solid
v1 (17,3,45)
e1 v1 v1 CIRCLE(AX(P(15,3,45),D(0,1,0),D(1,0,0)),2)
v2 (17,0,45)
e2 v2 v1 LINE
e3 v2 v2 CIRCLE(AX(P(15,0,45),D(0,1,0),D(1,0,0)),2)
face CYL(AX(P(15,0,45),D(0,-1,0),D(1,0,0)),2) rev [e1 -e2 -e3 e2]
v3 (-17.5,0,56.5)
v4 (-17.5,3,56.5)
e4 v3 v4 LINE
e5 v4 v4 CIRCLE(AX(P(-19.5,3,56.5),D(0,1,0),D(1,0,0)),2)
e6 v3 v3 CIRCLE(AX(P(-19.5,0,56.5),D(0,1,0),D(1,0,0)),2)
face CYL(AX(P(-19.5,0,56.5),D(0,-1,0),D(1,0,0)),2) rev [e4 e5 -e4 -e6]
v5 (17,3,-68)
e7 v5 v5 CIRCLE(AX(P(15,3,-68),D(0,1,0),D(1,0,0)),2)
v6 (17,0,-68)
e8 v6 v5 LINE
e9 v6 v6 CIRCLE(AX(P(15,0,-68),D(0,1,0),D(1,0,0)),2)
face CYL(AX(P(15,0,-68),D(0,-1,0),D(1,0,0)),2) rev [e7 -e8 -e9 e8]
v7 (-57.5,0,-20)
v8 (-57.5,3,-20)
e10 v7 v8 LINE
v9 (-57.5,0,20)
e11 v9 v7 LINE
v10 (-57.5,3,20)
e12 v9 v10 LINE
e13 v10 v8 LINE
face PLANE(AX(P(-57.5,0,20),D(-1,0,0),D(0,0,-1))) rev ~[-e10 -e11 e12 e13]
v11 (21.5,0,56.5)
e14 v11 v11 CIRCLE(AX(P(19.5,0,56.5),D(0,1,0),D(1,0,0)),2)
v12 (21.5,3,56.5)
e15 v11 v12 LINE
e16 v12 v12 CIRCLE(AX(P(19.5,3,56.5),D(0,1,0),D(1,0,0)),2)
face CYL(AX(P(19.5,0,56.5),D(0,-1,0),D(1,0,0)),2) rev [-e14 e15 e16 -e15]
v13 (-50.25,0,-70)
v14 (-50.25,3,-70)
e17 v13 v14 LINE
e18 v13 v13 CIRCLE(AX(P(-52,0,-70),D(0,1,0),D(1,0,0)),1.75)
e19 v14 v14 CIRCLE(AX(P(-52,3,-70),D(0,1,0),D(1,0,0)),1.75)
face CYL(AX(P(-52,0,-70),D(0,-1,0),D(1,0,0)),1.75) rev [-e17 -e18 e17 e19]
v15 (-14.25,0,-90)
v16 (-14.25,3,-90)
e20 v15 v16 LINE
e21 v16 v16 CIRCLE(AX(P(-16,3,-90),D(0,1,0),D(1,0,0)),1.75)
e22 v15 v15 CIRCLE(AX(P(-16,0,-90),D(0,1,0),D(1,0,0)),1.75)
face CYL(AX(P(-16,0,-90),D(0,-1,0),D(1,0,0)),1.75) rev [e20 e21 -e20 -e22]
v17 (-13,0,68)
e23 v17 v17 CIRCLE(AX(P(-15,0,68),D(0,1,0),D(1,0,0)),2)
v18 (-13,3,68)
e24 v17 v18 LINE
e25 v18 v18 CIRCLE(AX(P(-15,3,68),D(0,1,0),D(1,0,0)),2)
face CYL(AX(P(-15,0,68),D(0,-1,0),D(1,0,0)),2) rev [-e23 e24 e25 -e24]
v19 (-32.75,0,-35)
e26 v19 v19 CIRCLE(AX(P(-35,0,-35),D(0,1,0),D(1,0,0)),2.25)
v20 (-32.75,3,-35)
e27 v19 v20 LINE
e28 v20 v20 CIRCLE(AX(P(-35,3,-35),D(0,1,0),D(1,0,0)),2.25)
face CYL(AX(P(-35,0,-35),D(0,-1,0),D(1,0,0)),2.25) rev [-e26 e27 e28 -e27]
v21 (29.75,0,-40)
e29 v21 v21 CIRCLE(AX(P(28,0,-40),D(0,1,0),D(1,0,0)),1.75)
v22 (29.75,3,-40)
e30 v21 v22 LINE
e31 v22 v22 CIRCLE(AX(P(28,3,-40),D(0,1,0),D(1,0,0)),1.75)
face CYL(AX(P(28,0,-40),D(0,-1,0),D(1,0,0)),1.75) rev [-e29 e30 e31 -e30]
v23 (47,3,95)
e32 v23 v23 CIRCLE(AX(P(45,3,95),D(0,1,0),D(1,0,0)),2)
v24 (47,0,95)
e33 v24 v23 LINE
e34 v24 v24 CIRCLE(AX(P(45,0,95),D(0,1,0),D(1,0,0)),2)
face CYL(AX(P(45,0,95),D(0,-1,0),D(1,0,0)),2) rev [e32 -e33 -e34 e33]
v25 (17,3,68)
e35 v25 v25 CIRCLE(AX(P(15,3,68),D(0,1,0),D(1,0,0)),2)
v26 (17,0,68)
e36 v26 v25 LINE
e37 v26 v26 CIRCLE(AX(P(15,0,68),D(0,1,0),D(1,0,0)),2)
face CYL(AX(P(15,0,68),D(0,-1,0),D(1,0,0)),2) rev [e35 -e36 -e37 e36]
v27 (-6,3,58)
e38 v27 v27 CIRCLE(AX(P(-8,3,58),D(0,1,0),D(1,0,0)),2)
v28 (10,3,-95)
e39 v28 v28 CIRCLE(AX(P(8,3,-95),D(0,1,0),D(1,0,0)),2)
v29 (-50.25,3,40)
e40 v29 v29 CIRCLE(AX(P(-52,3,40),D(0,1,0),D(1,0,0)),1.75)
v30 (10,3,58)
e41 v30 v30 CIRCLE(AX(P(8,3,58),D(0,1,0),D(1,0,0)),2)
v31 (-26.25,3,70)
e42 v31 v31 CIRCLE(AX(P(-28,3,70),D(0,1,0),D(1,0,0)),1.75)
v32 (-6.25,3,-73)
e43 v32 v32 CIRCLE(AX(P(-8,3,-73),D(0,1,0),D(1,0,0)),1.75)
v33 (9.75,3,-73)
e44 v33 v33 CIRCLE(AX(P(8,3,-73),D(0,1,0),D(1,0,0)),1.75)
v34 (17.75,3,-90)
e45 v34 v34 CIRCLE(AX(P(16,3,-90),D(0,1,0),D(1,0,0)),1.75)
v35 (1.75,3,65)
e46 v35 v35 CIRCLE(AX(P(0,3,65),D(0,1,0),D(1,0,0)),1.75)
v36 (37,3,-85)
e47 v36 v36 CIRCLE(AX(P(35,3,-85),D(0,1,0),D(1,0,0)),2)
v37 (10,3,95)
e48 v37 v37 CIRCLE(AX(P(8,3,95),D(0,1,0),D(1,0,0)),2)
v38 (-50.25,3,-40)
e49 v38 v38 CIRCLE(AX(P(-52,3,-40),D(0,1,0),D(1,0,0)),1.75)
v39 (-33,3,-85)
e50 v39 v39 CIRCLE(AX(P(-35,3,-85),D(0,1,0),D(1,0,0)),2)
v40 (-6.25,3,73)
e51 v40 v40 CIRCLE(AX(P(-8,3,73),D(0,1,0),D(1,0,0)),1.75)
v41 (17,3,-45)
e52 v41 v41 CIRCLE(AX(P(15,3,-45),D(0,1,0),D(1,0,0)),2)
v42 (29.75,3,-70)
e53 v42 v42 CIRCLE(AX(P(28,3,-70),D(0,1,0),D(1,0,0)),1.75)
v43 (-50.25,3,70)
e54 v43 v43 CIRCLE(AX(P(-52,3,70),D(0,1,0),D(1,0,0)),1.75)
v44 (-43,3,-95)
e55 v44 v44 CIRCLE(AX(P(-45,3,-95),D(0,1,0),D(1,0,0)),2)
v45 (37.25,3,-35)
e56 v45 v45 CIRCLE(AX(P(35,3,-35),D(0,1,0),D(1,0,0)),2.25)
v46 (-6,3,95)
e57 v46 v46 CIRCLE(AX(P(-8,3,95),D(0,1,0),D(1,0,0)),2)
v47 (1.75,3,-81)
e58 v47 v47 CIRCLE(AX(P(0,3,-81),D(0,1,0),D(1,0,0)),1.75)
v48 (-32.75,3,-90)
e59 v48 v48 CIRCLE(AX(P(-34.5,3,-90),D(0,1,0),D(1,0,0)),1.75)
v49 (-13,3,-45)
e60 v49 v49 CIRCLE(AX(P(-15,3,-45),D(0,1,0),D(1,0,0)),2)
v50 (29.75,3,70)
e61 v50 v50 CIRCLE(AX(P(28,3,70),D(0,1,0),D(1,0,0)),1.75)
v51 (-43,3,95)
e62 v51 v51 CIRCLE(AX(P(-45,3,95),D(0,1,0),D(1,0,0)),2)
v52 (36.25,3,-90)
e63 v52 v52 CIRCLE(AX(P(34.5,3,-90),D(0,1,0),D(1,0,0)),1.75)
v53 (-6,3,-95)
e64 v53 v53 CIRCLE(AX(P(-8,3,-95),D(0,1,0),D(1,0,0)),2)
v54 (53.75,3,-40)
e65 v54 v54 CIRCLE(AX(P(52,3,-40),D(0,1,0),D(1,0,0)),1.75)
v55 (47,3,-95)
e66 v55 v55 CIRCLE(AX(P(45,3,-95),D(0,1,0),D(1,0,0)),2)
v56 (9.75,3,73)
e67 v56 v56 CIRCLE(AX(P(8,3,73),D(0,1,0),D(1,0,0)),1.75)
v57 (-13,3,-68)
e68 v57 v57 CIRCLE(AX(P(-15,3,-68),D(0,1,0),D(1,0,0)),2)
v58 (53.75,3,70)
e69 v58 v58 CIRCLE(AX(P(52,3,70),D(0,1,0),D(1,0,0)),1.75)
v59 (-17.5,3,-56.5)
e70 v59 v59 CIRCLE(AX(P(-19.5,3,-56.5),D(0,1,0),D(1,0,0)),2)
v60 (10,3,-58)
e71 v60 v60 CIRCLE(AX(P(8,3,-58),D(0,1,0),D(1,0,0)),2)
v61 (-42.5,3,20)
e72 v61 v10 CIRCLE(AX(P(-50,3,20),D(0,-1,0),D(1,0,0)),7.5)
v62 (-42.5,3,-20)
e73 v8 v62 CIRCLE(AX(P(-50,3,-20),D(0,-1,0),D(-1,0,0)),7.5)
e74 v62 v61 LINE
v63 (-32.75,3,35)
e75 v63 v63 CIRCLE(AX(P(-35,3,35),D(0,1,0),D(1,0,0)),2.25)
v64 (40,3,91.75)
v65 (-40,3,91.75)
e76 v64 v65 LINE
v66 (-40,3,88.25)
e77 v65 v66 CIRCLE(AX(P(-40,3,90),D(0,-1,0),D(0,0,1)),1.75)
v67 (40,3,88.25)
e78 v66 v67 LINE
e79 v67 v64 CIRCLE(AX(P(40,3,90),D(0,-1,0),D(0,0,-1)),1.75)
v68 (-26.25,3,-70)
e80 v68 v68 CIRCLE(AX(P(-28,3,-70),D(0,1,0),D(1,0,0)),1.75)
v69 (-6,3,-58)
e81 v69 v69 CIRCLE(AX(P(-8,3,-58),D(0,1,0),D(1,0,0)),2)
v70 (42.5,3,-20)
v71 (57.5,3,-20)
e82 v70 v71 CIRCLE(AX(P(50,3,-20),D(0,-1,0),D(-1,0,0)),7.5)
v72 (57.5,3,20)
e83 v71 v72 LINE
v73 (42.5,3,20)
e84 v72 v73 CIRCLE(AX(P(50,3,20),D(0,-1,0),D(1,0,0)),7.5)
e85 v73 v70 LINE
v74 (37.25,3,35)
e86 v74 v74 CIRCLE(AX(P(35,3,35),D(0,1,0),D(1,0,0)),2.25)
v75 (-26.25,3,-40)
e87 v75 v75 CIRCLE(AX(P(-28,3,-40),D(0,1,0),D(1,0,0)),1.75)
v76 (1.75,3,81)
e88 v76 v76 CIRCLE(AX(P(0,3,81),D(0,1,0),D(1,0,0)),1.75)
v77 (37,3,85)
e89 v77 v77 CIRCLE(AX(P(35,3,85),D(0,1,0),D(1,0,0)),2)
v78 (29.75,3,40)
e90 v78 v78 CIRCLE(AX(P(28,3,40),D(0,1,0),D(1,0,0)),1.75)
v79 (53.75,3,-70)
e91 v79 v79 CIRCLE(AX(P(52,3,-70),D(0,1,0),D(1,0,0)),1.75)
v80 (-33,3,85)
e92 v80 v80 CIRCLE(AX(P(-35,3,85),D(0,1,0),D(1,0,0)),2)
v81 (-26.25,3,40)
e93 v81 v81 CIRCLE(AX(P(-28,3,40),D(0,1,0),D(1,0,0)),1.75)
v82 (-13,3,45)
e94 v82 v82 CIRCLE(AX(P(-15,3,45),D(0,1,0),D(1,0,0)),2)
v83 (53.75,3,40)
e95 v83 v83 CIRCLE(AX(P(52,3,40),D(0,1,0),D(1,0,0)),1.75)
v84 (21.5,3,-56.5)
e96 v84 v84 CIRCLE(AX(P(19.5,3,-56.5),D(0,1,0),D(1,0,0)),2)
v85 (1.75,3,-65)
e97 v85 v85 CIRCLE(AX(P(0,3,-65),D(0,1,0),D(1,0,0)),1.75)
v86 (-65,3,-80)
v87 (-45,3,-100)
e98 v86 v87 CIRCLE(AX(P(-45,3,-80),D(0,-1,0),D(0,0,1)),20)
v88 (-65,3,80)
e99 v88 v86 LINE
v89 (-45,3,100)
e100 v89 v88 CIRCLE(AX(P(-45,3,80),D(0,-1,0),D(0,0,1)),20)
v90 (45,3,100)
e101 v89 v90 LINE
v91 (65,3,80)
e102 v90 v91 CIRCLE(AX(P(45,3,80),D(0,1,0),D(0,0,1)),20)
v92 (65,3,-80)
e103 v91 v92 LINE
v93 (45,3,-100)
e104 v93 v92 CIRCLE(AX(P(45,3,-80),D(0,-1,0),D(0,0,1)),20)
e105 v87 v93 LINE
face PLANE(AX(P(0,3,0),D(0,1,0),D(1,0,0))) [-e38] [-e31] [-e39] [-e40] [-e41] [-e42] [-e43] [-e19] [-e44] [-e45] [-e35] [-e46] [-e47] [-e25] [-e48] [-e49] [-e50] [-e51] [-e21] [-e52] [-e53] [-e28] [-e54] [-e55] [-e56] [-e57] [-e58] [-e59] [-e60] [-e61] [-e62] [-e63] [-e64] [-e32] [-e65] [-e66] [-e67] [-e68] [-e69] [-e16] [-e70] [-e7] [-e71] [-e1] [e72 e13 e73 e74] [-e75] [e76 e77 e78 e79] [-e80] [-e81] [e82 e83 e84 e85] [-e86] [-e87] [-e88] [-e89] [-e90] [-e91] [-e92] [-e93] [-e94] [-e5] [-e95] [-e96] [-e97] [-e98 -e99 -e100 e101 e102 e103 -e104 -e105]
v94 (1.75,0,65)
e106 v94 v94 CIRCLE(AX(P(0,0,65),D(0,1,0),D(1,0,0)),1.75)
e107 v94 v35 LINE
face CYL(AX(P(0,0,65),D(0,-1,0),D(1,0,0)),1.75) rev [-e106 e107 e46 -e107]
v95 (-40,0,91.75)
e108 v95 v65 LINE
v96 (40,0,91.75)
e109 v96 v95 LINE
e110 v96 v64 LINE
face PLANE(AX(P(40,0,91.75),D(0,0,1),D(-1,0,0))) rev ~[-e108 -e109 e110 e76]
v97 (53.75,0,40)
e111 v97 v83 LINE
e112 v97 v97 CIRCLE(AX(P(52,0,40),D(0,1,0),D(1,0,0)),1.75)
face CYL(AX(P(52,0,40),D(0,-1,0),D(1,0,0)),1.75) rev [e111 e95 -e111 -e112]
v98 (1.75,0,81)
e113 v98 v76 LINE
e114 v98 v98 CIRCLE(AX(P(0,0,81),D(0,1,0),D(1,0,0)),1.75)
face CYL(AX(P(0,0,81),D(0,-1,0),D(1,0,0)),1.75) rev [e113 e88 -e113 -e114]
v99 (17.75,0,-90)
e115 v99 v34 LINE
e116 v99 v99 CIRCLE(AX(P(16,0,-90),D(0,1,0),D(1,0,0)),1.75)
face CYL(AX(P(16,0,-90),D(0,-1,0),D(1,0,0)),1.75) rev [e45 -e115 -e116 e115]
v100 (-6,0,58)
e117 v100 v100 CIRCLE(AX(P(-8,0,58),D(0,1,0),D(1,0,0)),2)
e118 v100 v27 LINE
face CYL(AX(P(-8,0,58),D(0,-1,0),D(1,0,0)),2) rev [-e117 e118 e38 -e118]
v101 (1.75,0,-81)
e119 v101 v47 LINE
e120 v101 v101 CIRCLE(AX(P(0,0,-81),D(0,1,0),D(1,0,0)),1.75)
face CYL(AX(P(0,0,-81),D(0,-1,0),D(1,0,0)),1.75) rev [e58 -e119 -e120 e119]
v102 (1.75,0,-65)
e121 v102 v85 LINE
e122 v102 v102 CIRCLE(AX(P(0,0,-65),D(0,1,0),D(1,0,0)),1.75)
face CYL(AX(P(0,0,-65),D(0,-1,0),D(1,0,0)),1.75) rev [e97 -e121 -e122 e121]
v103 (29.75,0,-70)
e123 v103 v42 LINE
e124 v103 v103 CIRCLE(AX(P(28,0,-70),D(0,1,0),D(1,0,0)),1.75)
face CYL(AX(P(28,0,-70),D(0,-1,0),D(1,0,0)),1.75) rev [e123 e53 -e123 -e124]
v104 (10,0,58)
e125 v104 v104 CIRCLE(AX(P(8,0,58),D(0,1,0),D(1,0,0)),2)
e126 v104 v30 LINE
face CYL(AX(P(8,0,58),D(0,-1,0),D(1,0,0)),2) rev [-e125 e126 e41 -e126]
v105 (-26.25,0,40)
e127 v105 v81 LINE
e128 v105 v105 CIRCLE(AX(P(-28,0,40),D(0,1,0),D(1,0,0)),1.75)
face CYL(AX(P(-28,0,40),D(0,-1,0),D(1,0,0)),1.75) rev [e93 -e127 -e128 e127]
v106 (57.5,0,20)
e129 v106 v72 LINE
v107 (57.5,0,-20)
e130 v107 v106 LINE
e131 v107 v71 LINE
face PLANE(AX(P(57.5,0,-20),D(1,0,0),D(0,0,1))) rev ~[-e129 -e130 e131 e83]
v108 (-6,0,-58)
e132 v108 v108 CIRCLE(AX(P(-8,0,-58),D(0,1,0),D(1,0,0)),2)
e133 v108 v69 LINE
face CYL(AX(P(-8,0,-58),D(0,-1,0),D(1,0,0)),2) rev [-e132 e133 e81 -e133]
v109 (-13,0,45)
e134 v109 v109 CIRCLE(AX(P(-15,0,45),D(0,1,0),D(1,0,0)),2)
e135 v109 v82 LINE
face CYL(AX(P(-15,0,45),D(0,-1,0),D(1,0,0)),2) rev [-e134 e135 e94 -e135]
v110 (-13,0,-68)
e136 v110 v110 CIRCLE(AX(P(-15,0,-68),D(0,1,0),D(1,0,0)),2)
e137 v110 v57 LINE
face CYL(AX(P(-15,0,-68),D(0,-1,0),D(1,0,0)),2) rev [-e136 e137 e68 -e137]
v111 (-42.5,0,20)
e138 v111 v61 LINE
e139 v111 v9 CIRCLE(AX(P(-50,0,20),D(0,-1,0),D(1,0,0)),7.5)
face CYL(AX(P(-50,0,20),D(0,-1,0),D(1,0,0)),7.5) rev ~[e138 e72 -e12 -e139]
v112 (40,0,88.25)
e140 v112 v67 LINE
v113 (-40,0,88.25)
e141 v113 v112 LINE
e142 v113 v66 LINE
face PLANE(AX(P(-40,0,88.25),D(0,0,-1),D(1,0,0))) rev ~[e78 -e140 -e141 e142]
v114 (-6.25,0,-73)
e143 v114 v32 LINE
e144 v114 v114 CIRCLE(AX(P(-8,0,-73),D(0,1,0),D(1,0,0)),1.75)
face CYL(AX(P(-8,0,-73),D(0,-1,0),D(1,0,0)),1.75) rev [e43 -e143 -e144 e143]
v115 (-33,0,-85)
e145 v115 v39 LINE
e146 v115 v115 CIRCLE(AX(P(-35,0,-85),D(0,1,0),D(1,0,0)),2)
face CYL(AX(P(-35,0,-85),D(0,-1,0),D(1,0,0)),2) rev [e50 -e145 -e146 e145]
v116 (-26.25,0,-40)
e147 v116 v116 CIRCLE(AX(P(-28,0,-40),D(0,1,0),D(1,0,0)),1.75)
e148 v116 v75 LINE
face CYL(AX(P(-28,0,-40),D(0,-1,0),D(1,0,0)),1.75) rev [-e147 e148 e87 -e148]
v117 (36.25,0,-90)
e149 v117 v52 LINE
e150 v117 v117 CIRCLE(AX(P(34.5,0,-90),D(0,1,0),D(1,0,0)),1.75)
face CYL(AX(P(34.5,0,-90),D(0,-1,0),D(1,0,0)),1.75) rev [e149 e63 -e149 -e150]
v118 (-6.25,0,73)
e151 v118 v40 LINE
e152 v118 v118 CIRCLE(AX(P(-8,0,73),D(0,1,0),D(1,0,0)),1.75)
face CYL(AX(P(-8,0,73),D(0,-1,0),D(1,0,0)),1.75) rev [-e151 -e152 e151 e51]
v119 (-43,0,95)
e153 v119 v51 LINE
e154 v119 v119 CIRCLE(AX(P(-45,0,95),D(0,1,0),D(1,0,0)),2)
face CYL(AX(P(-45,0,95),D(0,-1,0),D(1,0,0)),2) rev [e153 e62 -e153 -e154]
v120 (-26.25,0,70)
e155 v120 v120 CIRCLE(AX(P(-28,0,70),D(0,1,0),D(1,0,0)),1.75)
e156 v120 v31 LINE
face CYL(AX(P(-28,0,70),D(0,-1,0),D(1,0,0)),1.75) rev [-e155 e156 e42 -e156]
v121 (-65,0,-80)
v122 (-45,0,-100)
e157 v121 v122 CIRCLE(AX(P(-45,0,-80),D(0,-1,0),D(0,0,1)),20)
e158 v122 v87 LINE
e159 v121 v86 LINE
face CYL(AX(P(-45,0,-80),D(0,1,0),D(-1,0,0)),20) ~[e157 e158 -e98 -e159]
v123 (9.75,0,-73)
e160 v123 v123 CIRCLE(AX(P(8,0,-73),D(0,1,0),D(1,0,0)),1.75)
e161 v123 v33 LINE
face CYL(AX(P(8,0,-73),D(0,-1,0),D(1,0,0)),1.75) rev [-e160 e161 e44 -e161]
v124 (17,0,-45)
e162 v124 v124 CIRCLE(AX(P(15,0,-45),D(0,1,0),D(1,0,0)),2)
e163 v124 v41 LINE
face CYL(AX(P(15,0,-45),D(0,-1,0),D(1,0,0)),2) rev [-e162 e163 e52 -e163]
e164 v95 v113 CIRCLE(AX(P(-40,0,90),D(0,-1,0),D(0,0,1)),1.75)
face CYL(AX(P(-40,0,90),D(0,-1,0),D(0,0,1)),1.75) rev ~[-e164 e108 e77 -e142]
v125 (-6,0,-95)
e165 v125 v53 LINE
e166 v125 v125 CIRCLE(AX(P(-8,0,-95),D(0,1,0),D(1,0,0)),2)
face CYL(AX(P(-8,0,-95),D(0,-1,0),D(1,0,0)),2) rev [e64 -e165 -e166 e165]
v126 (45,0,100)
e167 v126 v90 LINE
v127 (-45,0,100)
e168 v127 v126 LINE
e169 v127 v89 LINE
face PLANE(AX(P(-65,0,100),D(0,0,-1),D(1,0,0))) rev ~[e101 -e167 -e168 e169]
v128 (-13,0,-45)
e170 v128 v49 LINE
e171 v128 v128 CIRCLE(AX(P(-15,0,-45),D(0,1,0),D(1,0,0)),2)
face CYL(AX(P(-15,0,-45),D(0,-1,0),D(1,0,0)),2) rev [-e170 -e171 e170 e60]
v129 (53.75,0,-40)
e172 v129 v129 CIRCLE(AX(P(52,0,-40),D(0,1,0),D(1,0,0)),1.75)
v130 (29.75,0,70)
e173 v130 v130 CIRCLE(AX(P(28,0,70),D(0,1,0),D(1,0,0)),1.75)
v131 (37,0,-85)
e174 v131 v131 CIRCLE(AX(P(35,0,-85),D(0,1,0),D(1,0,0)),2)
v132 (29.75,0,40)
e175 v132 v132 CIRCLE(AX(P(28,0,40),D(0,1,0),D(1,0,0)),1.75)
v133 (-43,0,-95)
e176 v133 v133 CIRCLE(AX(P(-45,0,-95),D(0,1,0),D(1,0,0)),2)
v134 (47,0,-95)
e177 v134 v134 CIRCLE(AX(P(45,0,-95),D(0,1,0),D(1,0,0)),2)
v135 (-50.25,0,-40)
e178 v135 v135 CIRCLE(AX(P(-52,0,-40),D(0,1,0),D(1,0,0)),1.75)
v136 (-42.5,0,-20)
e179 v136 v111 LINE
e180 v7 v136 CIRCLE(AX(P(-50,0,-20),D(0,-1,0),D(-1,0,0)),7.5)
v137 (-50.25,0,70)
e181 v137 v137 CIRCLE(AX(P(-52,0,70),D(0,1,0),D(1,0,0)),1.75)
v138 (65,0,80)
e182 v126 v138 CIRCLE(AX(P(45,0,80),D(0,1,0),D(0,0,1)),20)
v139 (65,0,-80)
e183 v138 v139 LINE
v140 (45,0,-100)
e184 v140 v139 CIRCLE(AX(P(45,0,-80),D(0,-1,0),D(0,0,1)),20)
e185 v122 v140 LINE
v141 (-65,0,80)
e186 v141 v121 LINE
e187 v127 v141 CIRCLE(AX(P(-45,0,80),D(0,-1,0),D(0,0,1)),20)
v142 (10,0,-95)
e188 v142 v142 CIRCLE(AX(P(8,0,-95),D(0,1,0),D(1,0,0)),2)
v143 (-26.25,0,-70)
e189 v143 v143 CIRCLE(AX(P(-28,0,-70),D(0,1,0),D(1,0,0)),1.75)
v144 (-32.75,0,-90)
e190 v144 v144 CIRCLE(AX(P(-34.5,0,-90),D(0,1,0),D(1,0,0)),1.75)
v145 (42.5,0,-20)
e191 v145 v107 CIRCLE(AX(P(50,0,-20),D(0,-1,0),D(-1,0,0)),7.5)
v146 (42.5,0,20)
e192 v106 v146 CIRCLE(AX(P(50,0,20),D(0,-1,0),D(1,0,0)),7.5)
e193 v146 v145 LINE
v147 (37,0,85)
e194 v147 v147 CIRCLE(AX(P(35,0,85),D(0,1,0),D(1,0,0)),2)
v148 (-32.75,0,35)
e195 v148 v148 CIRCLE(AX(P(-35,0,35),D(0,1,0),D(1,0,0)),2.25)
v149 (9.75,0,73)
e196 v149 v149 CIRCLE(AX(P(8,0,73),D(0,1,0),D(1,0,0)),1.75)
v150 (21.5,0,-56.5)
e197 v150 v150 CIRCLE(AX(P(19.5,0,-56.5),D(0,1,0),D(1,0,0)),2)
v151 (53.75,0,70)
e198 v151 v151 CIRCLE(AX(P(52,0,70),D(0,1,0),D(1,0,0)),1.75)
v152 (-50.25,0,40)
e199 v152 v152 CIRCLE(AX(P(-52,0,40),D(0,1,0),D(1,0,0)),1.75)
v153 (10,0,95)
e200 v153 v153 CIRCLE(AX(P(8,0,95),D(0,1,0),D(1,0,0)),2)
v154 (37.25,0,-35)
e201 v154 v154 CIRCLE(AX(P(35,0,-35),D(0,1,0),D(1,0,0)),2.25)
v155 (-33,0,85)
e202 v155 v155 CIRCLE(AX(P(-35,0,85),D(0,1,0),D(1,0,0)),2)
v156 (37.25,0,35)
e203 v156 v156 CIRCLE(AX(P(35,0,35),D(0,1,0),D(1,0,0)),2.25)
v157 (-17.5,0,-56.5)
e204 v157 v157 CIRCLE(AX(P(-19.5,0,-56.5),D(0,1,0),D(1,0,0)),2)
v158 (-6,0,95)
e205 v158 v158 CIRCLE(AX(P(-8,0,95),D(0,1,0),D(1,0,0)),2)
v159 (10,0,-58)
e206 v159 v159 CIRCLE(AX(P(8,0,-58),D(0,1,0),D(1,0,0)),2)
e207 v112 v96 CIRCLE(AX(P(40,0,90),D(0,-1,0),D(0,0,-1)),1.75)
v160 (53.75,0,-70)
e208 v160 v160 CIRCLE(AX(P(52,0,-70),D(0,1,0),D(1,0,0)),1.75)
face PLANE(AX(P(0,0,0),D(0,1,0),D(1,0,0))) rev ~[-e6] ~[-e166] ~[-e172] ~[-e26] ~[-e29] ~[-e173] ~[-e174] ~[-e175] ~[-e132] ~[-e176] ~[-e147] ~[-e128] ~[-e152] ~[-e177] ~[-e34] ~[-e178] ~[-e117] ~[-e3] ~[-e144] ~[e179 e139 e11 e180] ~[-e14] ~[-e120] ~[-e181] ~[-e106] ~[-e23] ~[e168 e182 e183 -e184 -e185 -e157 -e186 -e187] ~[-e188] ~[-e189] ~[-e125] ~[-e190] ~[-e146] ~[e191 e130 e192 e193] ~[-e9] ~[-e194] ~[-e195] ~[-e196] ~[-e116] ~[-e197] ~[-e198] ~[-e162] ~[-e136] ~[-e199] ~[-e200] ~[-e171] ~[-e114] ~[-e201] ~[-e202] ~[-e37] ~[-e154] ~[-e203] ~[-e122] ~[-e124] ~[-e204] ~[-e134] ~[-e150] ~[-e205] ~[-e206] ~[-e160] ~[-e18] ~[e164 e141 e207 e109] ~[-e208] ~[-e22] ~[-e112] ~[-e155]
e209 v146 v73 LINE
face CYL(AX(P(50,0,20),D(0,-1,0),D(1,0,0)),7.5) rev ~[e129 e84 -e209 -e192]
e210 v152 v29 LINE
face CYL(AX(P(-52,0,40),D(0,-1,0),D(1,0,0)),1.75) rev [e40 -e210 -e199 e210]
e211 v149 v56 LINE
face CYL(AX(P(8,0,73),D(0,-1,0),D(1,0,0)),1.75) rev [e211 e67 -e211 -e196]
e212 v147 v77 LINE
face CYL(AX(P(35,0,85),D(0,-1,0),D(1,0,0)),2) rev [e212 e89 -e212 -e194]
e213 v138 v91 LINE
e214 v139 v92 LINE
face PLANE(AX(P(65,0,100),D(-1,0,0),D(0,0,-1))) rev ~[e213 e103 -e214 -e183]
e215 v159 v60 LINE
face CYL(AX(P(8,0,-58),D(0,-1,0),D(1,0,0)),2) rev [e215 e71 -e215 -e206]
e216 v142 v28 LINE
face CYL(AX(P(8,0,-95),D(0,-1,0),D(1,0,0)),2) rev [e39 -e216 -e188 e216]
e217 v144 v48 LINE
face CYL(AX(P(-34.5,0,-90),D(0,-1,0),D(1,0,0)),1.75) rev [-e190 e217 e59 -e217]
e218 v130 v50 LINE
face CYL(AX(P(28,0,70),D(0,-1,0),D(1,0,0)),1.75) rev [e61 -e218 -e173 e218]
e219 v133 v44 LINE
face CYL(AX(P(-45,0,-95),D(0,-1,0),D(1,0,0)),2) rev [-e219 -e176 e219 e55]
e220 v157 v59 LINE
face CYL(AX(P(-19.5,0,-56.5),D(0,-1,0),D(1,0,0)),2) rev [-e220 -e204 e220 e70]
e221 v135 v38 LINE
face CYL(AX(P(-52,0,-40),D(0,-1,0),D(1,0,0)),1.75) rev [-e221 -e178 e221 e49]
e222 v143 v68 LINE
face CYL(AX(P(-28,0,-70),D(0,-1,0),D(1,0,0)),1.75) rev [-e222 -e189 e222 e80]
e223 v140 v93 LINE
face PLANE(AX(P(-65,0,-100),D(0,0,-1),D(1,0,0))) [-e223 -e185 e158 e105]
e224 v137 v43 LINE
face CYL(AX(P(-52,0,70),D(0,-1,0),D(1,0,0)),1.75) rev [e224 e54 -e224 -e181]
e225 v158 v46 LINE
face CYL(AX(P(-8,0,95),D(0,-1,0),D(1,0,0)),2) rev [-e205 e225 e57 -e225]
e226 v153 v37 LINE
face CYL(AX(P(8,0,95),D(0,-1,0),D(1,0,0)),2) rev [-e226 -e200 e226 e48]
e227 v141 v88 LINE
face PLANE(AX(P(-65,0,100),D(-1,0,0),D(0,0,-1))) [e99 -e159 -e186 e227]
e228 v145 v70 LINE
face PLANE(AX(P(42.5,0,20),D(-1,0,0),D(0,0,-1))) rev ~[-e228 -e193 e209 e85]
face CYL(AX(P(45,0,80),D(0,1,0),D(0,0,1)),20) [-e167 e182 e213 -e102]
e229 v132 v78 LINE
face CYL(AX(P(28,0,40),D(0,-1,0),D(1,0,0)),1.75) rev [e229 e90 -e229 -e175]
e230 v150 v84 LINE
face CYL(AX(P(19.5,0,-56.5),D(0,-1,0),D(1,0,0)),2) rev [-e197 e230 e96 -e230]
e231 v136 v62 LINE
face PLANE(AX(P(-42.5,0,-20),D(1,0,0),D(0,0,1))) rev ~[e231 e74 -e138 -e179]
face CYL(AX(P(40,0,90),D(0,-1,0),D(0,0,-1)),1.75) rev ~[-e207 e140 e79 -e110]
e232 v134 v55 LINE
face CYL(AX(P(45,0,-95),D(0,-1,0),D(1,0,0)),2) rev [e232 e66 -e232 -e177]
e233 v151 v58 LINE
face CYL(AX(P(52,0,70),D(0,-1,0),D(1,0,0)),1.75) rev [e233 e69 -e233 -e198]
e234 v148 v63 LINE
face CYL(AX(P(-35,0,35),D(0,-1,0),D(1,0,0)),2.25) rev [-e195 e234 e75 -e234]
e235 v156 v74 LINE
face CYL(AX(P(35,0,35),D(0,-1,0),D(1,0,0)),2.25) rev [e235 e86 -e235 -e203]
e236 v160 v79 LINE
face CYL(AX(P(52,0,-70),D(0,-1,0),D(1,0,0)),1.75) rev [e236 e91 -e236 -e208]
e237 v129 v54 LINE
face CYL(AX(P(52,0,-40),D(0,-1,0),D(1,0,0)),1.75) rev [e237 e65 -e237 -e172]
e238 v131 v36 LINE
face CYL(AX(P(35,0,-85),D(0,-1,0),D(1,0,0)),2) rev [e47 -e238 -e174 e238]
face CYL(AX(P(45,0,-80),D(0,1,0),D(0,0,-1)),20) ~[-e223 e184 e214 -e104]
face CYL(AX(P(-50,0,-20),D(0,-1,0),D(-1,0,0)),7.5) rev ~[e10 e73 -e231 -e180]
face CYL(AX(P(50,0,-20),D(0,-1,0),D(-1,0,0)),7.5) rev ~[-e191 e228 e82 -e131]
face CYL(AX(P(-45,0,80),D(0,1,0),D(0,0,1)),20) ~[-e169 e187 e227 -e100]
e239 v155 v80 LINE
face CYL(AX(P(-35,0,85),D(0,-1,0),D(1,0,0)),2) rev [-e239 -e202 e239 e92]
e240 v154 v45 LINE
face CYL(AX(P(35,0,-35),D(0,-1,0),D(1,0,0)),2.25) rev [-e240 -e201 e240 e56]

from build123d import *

# Parameters (mm, degrees)
SKETCH_1_W      = 130
SKETCH_1_H      = 200
SKETCH_1_R      = 1.75
SKETCH_1_R_2    = 2.25
SKETCH_1_R_3    = 2
EXTRUDE_2_DEPTH = 3
FILLET_1_R      = 20
FILLET_2_R      = 20
FILLET_3_R      = 20
FILLET_4_R      = 20


with BuildPart() as part:
    # 草图1 → 凸台-拉伸2 (new body)
    with BuildSketch(Plane(origin=(0, 0, 0), x_dir=(1, 0, 0), z_dir=(0, 1, 0))):
        Rectangle(SKETCH_1_W, SKETCH_1_H)
        with Locations((52, -70)):
            Circle(SKETCH_1_R, mode=Mode.SUBTRACT)
        with Locations((52, -40)):
            Circle(SKETCH_1_R, mode=Mode.SUBTRACT)
        with Locations((28, -40)):
            Circle(SKETCH_1_R, mode=Mode.SUBTRACT)
        with Locations((28, -70)):
            Circle(SKETCH_1_R, mode=Mode.SUBTRACT)
        with Locations((52, 40)):
            Circle(SKETCH_1_R, mode=Mode.SUBTRACT)
        with Locations((52, 70)):
            Circle(SKETCH_1_R, mode=Mode.SUBTRACT)
        with Locations((28, 70)):
            Circle(SKETCH_1_R, mode=Mode.SUBTRACT)
        with Locations((28, 40)):
            Circle(SKETCH_1_R, mode=Mode.SUBTRACT)
        with Locations((-28, 40)):
            Circle(SKETCH_1_R, mode=Mode.SUBTRACT)
        with Locations((-28, 70)):
            Circle(SKETCH_1_R, mode=Mode.SUBTRACT)
        with Locations((-52, 70)):
            Circle(SKETCH_1_R, mode=Mode.SUBTRACT)
        with Locations((-52, 40)):
            Circle(SKETCH_1_R, mode=Mode.SUBTRACT)
        with Locations((-28, -70)):
            Circle(SKETCH_1_R, mode=Mode.SUBTRACT)
        with Locations((-28, -40)):
            Circle(SKETCH_1_R, mode=Mode.SUBTRACT)
        with Locations((-52, -40)):
            Circle(SKETCH_1_R, mode=Mode.SUBTRACT)
        with Locations((-52, -70)):
            Circle(SKETCH_1_R, mode=Mode.SUBTRACT)
        with Locations((35, -35)):
            Circle(SKETCH_1_R_2, mode=Mode.SUBTRACT)
        with Locations((-35, -35)):
            Circle(SKETCH_1_R_2, mode=Mode.SUBTRACT)
        with Locations((-35, 35)):
            Circle(SKETCH_1_R_2, mode=Mode.SUBTRACT)
        with Locations((35, 35)):
            Circle(SKETCH_1_R_2, mode=Mode.SUBTRACT)
        with Locations((16, 90)):
            Circle(SKETCH_1_R, mode=Mode.SUBTRACT)
        with Locations((-16, 90)):
            Circle(SKETCH_1_R, mode=Mode.SUBTRACT)
        with Locations((-34.5, 90)):
            Circle(SKETCH_1_R, mode=Mode.SUBTRACT)
        with Locations((34.5, 90)):
            Circle(SKETCH_1_R, mode=Mode.SUBTRACT)
        with Locations((-8, 73)):
            Circle(SKETCH_1_R, mode=Mode.SUBTRACT)
        with Locations((0, 65)):
            Circle(SKETCH_1_R, mode=Mode.SUBTRACT)
        with Locations((0, 81)):
            Circle(SKETCH_1_R, mode=Mode.SUBTRACT)
        with Locations((8, 73)):
            Circle(SKETCH_1_R, mode=Mode.SUBTRACT)
        with Locations((-8, -73)):
            Circle(SKETCH_1_R, mode=Mode.SUBTRACT)
        with Locations((0, -81)):
            Circle(SKETCH_1_R, mode=Mode.SUBTRACT)
        with Locations((0, -65)):
            Circle(SKETCH_1_R, mode=Mode.SUBTRACT)
        with Locations((8, -73)):
            Circle(SKETCH_1_R, mode=Mode.SUBTRACT)
        with Locations((15, 45)):
            Circle(SKETCH_1_R_3, mode=Mode.SUBTRACT)
        with Locations((-15, 45)):
            Circle(SKETCH_1_R_3, mode=Mode.SUBTRACT)
        with Locations((-15, 68)):
            Circle(SKETCH_1_R_3, mode=Mode.SUBTRACT)
        with Locations((15, 68)):
            Circle(SKETCH_1_R_3, mode=Mode.SUBTRACT)
        with Locations((15, -68)):
            Circle(SKETCH_1_R_3, mode=Mode.SUBTRACT)
        with Locations((-15, -68)):
            Circle(SKETCH_1_R_3, mode=Mode.SUBTRACT)
        with Locations((-15, -45)):
            Circle(SKETCH_1_R_3, mode=Mode.SUBTRACT)
        with Locations((15, -45)):
            Circle(SKETCH_1_R_3, mode=Mode.SUBTRACT)
        with Locations((35, 85)):
            Circle(SKETCH_1_R_3, mode=Mode.SUBTRACT)
        with Locations((-35, 85)):
            Circle(SKETCH_1_R_3, mode=Mode.SUBTRACT)
        with Locations((35, -85)):
            Circle(SKETCH_1_R_3, mode=Mode.SUBTRACT)
        with Locations((-35, -85)):
            Circle(SKETCH_1_R_3, mode=Mode.SUBTRACT)
        with Locations((8, -58)):
            Circle(SKETCH_1_R_3, mode=Mode.SUBTRACT)
        with Locations((8, -95)):
            Circle(SKETCH_1_R_3, mode=Mode.SUBTRACT)
        with Locations((45, -95)):
            Circle(SKETCH_1_R_3, mode=Mode.SUBTRACT)
        with Locations((-45, -95)):
            Circle(SKETCH_1_R_3, mode=Mode.SUBTRACT)
        with Locations((-8, -95)):
            Circle(SKETCH_1_R_3, mode=Mode.SUBTRACT)
        with Locations((-8, -58)):
            Circle(SKETCH_1_R_3, mode=Mode.SUBTRACT)
        with Locations((45, 95)):
            Circle(SKETCH_1_R_3, mode=Mode.SUBTRACT)
        with Locations((8, 95)):
            Circle(SKETCH_1_R_3, mode=Mode.SUBTRACT)
        with Locations((-8, 95)):
            Circle(SKETCH_1_R_3, mode=Mode.SUBTRACT)
        with Locations((-45, 95)):
            Circle(SKETCH_1_R_3, mode=Mode.SUBTRACT)
        with Locations((8, 58)):
            Circle(SKETCH_1_R_3, mode=Mode.SUBTRACT)
        with Locations((-8, 58)):
            Circle(SKETCH_1_R_3, mode=Mode.SUBTRACT)
        with Locations((19.5, -56.5)):
            Circle(SKETCH_1_R_3, mode=Mode.SUBTRACT)
        with Locations((-19.5, -56.5)):
            Circle(SKETCH_1_R_3, mode=Mode.SUBTRACT)
        with Locations((-19.5, 56.5)):
            Circle(SKETCH_1_R_3, mode=Mode.SUBTRACT)
        with Locations((19.5, 56.5)):
            Circle(SKETCH_1_R_3, mode=Mode.SUBTRACT)
        with BuildLine():
            Line((-40, -88.25), (40, -88.25))
            ThreePointArc((40, -88.25), (41.75, -90), (40, -91.75))
            Line((40, -91.75), (-40, -91.75))
            ThreePointArc((-40, -91.75), (-41.75, -90), (-40, -88.25))
        make_face(mode=Mode.SUBTRACT)
        with BuildLine():
            Line((42.5, -20), (42.5, 20))
            ThreePointArc((42.5, 20), (50, 27.5), (57.5, 20))
            Line((57.5, 20), (57.5, -20))
            ThreePointArc((57.5, -20), (50, -27.5), (42.5, -20))
        make_face(mode=Mode.SUBTRACT)
        with BuildLine():
            Line((-57.5, -20), (-57.5, 20))
            ThreePointArc((-57.5, 20), (-50, 27.5), (-42.5, 20))
            Line((-42.5, 20), (-42.5, -20))
            ThreePointArc((-42.5, -20), (-50, -27.5), (-57.5, -20))
        make_face(mode=Mode.SUBTRACT)
    extrude(amount=EXTRUDE_2_DEPTH)

    # 圆角1
    fillet_1_edges = [part.edges().sort_by_distance(p)[0] for p in [
        (65, 1.5, 100),
    ]]
    fillet(fillet_1_edges, radius=FILLET_1_R)

    # 圆角2
    fillet_2_edges = [part.edges().sort_by_distance(p)[0] for p in [
        (-65, 1.5, 100),
    ]]
    fillet(fillet_2_edges, radius=FILLET_2_R)

    # 圆角3
    fillet_3_edges = [part.edges().sort_by_distance(p)[0] for p in [
        (-65, 1.5, -100),
    ]]
    fillet(fillet_3_edges, radius=FILLET_3_R)

    # 圆角4
    fillet_4_edges = [part.edges().sort_by_distance(p)[0] for p in [
        (65, 1.5, -100),
    ]]
    fillet(fillet_4_edges, radius=FILLET_4_R)


solid = part.part
